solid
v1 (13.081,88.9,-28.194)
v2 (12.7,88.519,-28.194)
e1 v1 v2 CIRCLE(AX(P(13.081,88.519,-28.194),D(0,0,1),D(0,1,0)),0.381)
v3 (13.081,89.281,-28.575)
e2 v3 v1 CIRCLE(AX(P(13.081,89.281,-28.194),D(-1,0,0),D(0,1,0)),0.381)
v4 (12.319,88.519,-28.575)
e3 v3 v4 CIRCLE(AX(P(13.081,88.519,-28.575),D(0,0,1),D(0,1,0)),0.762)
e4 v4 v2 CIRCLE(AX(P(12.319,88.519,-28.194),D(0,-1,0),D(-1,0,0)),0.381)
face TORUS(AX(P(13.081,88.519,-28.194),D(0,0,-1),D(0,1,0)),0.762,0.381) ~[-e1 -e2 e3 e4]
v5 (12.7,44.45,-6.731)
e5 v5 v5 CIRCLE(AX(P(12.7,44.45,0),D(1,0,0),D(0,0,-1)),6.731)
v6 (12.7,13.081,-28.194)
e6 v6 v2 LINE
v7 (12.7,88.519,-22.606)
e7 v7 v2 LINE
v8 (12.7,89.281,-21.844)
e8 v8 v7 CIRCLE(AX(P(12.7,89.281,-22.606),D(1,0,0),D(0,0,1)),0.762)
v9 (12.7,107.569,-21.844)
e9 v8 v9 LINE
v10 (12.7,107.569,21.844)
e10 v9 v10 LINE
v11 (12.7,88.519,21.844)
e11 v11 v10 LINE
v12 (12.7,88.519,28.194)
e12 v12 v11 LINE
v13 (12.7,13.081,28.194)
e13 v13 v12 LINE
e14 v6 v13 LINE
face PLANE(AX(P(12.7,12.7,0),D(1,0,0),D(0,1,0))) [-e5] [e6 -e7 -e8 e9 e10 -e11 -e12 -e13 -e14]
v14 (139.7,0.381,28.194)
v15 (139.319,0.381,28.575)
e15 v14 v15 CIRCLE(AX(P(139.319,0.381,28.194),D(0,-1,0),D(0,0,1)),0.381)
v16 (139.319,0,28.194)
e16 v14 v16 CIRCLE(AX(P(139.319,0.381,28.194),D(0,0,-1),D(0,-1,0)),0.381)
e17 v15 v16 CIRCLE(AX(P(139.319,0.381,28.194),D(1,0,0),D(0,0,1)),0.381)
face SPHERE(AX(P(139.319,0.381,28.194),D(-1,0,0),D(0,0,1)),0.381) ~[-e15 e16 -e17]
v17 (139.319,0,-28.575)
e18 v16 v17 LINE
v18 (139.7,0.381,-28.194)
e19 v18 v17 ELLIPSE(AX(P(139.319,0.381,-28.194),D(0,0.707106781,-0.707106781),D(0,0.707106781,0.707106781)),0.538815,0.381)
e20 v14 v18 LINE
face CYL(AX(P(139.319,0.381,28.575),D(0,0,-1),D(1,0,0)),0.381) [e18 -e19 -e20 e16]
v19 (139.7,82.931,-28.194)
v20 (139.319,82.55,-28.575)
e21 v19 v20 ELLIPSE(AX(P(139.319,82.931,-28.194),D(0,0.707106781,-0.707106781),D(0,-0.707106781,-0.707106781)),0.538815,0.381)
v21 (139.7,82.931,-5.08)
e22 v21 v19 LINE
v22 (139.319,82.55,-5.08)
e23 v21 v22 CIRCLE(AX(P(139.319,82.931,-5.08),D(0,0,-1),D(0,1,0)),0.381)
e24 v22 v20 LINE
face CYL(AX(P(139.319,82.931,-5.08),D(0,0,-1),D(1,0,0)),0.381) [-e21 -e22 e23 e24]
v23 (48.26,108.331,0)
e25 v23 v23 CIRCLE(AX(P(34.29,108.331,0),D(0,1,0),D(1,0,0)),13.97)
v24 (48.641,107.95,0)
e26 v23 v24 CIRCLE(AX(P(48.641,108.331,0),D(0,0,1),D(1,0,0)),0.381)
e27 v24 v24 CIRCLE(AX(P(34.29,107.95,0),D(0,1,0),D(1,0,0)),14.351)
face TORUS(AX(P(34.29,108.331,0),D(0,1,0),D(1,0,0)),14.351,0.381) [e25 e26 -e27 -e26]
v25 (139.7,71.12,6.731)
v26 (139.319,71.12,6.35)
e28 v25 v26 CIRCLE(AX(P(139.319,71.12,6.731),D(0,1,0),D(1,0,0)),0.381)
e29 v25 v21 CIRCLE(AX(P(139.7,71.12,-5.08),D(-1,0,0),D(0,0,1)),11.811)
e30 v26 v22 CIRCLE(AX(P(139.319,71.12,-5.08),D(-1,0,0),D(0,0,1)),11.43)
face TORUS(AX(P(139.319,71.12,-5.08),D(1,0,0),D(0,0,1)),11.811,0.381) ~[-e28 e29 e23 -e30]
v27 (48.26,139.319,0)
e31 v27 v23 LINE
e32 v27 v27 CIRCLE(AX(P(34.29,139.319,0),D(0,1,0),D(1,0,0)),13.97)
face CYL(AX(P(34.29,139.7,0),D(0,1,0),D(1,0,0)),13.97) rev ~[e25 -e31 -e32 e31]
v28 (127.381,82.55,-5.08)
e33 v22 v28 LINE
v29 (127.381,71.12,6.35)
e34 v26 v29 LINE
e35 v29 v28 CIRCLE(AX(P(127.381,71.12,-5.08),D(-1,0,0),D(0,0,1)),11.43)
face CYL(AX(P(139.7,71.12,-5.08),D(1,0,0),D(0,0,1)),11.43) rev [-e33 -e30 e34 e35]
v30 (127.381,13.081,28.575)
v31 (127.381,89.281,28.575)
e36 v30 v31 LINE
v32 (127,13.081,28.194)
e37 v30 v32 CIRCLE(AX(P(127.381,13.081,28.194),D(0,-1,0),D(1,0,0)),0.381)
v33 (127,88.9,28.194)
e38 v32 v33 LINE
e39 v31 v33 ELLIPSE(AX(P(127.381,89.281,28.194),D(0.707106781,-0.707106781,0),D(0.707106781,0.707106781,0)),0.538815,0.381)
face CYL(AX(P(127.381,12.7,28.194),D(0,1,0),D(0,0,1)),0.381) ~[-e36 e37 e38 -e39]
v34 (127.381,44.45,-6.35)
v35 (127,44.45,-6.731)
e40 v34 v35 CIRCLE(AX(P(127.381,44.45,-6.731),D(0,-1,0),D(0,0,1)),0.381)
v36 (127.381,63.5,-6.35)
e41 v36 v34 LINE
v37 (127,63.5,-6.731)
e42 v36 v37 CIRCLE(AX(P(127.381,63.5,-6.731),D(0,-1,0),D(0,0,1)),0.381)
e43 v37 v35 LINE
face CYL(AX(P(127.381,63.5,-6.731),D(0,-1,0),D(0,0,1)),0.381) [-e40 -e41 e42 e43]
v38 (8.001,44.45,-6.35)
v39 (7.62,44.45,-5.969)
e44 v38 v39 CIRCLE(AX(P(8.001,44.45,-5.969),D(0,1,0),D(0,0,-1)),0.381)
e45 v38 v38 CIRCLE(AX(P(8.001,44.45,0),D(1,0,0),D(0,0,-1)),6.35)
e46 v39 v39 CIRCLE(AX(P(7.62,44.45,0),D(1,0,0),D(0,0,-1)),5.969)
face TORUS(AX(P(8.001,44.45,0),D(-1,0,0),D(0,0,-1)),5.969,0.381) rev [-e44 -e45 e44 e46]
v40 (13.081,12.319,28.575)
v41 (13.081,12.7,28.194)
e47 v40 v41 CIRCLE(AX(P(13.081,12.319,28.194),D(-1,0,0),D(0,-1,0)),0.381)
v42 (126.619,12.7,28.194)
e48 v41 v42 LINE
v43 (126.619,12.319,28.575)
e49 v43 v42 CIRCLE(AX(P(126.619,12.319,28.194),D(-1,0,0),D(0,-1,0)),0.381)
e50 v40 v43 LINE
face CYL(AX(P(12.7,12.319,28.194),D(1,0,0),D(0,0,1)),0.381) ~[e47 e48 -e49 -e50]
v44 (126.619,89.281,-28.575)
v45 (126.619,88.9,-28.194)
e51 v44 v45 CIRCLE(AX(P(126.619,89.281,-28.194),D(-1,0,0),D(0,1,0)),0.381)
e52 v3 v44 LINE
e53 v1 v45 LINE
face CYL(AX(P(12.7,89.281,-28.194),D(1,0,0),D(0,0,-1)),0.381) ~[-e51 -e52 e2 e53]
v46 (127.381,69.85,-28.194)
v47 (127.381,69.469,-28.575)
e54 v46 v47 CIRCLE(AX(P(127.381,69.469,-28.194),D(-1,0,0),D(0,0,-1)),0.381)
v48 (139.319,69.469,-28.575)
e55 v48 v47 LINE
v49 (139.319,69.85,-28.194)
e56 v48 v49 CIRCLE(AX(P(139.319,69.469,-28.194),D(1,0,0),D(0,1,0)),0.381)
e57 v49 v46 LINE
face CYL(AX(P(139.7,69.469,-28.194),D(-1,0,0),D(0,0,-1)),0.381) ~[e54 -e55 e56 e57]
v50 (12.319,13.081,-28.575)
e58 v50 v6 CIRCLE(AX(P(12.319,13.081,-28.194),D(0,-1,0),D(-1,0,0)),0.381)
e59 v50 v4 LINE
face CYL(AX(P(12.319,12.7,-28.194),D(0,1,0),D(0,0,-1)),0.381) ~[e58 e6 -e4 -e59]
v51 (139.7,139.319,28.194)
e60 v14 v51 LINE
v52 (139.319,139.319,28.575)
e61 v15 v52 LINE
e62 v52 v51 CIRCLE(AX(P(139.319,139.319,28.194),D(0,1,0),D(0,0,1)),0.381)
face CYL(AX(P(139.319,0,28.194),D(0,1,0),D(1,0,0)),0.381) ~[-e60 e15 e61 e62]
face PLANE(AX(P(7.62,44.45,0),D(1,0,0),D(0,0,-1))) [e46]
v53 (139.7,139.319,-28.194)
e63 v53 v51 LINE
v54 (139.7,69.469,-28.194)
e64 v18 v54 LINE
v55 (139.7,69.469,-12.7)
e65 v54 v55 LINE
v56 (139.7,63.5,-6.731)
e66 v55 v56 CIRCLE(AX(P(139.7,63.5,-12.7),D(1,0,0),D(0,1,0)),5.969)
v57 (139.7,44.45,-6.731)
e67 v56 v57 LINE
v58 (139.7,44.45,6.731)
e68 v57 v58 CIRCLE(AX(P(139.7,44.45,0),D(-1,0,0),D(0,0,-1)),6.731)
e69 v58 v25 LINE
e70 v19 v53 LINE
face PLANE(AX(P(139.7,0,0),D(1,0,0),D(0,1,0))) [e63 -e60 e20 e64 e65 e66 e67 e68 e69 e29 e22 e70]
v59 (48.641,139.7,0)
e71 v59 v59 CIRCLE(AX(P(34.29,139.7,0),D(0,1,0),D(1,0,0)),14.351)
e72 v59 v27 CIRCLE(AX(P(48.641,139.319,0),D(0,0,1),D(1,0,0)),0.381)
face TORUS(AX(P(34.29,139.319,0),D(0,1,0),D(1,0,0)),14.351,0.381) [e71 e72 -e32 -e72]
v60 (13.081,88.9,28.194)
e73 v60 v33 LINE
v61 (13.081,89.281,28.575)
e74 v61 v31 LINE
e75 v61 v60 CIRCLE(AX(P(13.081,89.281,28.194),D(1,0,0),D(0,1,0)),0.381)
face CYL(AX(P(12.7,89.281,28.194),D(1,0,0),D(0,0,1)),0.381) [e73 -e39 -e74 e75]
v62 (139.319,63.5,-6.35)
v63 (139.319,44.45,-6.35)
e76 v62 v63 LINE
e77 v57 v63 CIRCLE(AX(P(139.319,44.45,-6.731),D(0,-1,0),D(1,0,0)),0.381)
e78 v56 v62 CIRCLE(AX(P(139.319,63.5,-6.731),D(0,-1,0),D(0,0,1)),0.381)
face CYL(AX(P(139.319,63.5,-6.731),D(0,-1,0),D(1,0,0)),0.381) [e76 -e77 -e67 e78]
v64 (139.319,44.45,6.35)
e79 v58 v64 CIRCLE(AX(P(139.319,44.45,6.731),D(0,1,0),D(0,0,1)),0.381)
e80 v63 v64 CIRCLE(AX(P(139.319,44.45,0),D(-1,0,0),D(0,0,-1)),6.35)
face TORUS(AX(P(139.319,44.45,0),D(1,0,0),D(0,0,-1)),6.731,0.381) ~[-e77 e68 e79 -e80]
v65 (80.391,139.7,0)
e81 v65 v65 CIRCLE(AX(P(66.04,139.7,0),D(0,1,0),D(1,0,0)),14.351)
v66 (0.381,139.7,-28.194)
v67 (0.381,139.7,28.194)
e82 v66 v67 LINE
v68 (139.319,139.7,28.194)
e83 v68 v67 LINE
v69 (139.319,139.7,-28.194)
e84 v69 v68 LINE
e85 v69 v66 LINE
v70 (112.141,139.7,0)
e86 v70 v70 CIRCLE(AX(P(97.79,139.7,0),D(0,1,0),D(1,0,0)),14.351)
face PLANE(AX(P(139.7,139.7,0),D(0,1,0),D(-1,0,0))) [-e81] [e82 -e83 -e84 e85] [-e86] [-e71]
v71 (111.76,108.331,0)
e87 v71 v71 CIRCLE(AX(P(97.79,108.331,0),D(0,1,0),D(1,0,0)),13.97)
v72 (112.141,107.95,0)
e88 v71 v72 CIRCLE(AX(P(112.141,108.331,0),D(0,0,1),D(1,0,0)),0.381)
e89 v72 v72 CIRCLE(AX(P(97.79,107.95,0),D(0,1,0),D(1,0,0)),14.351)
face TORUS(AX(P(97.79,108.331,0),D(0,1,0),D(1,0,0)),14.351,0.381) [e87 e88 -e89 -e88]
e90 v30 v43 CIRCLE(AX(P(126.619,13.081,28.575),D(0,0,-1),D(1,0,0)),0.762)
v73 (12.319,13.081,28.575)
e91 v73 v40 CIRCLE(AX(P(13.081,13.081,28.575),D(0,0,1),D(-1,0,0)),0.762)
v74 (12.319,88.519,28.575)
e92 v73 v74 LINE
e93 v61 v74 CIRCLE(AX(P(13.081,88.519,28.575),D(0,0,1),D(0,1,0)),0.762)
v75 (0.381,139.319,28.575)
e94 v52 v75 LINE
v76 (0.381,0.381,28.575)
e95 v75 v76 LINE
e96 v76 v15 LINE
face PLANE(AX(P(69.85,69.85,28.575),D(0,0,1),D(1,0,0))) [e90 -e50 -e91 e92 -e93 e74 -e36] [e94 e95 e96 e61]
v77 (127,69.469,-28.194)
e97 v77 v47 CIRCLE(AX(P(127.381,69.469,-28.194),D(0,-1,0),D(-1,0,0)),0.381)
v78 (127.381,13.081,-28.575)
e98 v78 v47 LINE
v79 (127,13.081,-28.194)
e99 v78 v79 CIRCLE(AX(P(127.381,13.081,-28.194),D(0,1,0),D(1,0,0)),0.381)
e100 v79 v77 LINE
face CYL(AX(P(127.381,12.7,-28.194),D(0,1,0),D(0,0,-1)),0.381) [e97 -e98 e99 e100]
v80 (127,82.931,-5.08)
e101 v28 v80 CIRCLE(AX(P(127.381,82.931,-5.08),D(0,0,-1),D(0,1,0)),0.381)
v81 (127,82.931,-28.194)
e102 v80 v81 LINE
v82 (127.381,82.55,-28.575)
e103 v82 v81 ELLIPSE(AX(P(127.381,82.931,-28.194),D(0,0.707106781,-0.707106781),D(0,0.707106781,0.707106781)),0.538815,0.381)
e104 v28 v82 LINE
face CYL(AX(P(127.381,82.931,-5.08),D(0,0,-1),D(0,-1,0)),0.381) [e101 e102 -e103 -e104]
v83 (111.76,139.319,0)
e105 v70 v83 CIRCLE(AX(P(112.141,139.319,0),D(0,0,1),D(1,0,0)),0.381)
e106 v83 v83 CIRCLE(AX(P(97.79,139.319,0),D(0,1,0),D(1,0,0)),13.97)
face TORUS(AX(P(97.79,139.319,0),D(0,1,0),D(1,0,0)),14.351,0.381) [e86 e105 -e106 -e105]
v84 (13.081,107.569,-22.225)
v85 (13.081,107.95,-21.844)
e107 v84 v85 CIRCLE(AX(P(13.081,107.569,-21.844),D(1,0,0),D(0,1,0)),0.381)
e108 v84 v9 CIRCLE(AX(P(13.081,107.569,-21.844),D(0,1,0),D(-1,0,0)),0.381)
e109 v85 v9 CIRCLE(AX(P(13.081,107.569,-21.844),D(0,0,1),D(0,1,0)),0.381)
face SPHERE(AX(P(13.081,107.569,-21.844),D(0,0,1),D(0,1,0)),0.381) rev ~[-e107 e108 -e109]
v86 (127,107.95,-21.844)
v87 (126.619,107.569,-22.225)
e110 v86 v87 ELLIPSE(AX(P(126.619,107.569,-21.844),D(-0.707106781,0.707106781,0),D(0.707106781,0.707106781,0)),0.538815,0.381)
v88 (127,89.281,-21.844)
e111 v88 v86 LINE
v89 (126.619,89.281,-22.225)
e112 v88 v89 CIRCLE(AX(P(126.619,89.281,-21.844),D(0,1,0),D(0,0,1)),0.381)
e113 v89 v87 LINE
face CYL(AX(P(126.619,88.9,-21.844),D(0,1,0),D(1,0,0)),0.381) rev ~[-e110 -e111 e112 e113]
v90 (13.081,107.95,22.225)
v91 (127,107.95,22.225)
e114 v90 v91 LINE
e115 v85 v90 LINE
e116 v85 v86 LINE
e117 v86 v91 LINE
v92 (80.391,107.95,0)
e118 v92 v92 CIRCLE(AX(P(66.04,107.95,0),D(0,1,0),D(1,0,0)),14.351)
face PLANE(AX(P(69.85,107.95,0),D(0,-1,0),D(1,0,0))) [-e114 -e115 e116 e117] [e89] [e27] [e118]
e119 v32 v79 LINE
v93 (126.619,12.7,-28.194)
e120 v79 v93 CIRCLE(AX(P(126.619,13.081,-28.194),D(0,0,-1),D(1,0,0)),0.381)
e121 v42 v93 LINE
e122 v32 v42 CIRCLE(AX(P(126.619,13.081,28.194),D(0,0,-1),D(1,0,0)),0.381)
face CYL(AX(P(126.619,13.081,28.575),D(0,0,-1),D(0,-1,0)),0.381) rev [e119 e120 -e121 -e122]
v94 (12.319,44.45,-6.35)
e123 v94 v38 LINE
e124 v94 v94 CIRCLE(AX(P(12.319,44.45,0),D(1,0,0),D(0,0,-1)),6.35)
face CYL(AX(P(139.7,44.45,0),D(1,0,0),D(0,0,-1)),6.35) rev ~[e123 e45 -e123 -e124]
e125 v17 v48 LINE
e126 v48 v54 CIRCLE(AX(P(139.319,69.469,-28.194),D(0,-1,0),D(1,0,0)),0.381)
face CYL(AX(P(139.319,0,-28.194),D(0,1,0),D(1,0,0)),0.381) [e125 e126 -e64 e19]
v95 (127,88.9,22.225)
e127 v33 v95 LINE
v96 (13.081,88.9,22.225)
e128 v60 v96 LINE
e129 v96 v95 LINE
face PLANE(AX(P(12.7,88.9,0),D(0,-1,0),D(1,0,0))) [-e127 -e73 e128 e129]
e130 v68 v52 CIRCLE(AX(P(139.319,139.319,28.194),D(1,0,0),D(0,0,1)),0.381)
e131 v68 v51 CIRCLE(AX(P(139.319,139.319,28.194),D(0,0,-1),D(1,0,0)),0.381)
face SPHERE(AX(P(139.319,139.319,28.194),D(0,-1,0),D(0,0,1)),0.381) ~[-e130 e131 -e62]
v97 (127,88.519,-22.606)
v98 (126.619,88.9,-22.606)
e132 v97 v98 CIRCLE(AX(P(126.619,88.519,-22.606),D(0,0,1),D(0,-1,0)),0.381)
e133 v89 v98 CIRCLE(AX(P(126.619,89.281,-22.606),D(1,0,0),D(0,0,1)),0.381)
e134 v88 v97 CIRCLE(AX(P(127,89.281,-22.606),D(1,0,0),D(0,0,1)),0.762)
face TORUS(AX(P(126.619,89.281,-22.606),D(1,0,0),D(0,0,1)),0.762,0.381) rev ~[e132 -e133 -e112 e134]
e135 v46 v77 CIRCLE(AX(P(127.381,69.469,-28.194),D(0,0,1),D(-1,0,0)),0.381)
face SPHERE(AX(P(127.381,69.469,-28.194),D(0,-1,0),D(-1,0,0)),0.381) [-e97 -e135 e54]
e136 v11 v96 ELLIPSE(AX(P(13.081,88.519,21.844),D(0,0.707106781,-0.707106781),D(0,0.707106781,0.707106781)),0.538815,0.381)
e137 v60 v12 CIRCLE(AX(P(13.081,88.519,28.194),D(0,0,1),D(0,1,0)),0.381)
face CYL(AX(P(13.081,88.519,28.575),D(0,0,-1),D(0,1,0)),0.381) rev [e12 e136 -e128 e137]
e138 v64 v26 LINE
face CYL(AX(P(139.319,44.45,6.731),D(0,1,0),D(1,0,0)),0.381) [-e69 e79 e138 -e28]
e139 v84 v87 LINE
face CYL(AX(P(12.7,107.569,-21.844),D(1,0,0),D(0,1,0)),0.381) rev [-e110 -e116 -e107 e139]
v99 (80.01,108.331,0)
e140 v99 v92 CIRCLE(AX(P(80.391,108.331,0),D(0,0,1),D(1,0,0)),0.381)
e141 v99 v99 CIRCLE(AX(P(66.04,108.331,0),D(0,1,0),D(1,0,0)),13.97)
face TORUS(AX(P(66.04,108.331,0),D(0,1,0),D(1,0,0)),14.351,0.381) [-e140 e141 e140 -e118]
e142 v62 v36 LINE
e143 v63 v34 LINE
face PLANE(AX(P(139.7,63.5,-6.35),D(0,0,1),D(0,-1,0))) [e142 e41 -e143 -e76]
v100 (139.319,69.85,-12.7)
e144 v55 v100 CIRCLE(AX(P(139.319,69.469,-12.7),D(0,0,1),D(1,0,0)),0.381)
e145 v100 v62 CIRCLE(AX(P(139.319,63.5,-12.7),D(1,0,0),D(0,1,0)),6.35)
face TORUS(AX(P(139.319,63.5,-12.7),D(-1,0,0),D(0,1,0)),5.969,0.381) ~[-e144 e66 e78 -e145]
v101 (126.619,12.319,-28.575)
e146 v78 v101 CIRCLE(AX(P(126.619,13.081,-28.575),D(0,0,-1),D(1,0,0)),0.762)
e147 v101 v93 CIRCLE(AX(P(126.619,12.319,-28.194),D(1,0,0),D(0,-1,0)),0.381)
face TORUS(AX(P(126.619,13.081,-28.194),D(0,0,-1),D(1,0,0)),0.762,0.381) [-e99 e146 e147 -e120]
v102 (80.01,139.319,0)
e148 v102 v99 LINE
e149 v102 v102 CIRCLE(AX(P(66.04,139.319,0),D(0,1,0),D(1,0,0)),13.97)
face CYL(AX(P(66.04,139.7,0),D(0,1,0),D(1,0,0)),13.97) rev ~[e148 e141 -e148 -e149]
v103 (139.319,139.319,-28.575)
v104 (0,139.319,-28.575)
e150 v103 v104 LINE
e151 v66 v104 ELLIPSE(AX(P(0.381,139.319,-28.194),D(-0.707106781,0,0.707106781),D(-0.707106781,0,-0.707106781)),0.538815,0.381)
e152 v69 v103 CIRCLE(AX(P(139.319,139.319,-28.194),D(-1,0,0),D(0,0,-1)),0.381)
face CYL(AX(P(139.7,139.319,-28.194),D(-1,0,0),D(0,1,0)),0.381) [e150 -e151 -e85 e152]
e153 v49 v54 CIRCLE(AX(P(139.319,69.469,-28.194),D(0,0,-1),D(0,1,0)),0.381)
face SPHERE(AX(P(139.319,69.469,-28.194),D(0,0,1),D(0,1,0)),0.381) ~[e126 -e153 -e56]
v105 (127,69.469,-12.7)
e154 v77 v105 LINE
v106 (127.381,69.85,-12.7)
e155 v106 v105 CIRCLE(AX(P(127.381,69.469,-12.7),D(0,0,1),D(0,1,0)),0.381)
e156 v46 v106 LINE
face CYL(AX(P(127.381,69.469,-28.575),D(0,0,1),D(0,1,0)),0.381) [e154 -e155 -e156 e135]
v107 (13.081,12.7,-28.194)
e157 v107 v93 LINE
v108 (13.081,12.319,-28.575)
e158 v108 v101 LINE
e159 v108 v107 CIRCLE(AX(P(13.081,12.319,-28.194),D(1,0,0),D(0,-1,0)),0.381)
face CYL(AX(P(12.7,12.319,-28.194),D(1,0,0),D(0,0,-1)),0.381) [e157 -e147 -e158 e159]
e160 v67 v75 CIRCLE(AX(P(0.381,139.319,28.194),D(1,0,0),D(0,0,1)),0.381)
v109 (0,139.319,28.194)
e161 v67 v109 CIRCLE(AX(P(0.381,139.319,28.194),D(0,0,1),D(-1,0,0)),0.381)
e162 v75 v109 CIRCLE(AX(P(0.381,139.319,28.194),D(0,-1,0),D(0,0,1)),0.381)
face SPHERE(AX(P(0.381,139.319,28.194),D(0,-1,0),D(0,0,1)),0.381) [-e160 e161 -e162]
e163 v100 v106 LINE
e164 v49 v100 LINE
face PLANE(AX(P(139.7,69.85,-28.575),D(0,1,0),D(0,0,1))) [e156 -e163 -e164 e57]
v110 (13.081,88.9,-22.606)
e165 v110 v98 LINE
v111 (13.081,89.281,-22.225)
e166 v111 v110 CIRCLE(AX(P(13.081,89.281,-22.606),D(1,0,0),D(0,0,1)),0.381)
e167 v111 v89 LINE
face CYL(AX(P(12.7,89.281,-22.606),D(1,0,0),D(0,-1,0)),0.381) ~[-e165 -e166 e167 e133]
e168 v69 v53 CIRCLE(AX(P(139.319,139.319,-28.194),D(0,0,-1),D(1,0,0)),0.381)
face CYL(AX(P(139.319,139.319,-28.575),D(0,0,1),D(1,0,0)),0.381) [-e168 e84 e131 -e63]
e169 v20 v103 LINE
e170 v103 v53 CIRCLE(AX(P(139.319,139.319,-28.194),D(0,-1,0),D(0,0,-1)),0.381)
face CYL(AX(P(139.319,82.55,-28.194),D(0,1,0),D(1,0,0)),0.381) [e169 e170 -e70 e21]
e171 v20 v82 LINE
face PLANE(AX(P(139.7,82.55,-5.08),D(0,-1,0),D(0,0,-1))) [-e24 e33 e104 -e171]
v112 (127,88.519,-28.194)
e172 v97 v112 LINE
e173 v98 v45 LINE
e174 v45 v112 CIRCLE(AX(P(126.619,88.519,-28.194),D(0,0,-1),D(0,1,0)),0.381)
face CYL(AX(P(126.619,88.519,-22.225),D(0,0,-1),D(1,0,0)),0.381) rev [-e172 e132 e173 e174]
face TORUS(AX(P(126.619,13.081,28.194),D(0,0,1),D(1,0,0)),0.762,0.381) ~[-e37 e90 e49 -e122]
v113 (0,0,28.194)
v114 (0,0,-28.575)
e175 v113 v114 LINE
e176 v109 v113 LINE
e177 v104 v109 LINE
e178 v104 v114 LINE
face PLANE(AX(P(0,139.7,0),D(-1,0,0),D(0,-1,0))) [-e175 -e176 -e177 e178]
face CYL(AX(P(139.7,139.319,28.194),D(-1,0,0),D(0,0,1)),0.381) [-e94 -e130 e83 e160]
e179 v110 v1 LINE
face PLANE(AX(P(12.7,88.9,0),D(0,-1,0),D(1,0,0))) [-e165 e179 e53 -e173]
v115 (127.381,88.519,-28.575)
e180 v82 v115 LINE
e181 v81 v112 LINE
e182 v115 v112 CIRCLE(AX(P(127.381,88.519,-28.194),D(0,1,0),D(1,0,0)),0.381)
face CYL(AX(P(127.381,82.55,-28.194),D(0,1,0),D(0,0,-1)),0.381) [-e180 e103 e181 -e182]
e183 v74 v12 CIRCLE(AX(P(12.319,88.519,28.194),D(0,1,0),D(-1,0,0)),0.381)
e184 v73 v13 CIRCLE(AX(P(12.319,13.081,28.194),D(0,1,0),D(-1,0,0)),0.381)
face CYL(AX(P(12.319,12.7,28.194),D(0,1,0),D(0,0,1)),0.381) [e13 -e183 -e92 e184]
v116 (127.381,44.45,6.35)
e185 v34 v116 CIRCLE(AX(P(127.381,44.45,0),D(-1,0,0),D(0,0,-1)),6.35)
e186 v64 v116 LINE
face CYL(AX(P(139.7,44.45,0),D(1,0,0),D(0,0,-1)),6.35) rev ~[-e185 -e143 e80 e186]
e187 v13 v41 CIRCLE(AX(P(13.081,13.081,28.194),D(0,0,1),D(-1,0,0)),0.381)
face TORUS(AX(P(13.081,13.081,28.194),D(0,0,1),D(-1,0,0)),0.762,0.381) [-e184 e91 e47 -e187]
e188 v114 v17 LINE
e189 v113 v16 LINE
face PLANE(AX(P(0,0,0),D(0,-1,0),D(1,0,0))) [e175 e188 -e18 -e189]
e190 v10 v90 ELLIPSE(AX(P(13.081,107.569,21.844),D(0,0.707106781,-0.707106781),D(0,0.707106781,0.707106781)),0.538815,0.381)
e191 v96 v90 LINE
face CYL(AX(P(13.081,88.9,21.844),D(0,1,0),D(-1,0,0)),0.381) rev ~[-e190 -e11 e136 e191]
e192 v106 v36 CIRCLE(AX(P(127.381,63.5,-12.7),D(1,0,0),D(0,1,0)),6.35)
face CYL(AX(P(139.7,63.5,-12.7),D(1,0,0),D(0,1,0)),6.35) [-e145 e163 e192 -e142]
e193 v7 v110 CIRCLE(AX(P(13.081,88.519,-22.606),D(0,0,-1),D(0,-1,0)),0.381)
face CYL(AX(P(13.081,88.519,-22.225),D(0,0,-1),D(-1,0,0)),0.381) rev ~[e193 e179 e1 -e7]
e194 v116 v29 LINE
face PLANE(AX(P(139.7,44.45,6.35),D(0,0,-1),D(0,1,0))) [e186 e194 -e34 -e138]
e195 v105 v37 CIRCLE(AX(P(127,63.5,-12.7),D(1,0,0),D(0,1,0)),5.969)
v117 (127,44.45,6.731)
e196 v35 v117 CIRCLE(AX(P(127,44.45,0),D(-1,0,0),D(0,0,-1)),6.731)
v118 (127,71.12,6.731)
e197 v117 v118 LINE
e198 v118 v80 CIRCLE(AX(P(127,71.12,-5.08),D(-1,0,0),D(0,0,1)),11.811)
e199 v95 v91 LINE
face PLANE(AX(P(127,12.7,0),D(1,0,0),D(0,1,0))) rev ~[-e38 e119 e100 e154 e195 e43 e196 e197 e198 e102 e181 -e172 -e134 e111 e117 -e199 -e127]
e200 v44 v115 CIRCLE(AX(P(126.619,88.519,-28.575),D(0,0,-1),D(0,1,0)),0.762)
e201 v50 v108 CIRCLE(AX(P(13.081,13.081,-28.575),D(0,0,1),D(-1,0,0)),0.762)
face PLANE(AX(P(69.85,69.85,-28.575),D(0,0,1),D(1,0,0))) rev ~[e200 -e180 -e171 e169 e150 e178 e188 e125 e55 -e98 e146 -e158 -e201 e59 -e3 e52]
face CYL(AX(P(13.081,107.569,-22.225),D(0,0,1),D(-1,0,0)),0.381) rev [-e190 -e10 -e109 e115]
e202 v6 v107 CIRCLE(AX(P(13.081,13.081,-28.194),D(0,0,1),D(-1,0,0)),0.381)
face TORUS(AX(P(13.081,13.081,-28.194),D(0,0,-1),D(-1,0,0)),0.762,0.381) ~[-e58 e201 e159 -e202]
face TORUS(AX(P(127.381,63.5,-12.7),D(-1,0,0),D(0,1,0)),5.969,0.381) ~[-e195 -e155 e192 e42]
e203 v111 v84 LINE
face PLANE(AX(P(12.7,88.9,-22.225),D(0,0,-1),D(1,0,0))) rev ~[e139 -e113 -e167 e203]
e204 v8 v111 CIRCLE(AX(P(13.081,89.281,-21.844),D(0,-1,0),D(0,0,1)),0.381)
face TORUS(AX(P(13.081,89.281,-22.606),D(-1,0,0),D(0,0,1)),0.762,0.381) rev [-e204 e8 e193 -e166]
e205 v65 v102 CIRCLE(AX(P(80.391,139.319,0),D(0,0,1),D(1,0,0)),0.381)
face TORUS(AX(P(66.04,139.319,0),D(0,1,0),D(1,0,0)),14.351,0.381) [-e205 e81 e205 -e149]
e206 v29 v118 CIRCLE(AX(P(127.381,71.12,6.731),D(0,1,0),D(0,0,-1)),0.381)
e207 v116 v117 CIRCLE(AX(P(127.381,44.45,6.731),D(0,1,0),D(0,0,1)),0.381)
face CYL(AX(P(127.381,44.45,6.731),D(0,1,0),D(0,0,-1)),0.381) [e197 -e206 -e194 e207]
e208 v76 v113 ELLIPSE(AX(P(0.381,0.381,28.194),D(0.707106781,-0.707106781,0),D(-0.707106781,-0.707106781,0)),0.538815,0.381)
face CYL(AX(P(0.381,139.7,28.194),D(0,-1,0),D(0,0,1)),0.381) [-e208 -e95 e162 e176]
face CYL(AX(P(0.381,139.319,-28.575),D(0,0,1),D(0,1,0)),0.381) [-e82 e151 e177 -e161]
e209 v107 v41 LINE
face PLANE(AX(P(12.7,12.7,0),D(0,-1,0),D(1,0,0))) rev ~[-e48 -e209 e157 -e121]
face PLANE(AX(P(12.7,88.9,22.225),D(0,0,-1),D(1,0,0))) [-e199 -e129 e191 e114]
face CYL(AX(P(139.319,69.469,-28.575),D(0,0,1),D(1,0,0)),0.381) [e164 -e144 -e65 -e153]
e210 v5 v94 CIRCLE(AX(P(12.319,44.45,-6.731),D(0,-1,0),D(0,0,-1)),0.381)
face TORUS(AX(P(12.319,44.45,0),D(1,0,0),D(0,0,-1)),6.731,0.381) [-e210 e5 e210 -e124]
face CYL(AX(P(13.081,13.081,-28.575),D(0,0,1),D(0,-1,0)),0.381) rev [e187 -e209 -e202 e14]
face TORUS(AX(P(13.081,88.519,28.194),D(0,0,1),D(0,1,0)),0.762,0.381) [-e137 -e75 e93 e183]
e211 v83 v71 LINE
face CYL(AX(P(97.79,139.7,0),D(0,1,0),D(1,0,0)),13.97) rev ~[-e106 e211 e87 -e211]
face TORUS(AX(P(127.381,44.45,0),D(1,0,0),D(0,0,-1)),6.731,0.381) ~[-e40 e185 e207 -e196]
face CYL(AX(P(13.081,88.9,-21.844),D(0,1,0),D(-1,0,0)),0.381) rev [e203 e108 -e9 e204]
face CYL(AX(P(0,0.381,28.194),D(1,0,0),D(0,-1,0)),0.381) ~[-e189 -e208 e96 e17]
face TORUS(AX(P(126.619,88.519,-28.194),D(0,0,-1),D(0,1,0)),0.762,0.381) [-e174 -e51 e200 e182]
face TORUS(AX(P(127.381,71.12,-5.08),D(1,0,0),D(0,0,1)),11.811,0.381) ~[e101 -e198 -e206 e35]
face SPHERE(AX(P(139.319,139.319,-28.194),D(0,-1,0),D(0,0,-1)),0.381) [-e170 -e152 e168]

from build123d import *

# Parameters (mm, degrees)
SKETCH1_W           = 114.3
SKETCH1_H           = 76.2
BOSS_EXTRUDE1_DEPTH = 28.575
SKETCH2_R           = 13.97
CUT_EXTRUDE1_DEPTH  = 88.9
SKETCH3_R           = 6.35
CUT_EXTRUDE2_DEPTH  = 132.08
SKETCH4_W           = 114.3
SKETCH4_H           = 44.45
CUT_EXTRUDE3_DEPTH  = 19.05
CUT_EXTRUDE4_DEPTH  = 25.4
FILLET1_R           = 0.381


with BuildPart() as part:
    # Sketch1 → Boss-Extrude1 (new body, symmetric)
    with BuildSketch(Plane.XY):
        Polygon((88.9, 0), (139.7, 0), (139.7, 139.7), (0, 139.7), (0, 0), (12.7, 0), align=None)
        with Locations((69.85, 50.8)):
            Rectangle(SKETCH1_W, SKETCH1_H, mode=Mode.SUBTRACT)
    extrude(amount=BOSS_EXTRUDE1_DEPTH, both=True)

    # Sketch2 → Cut-Extrude1 (cut)
    with BuildSketch(Plane(origin=(0, 139.7, 0), x_dir=(1, 0, 0), z_dir=(0, 1, 0))):
        with Locations((66.04, 0)):
            Circle(SKETCH2_R)
        with Locations((34.29, 0)):
            Circle(SKETCH2_R)
        with Locations((97.79, 0)):
            Circle(SKETCH2_R)
    extrude(amount=-CUT_EXTRUDE1_DEPTH, mode=Mode.SUBTRACT)

    # Sketch3 → Cut-Extrude2 (cut)
    with BuildSketch(Plane(origin=(139.7, 0, 0), x_dir=(0, 0, -1), z_dir=(1, 0, 0))):
        with Locations((0, 44.45)):
            Circle(SKETCH3_R)
    extrude(amount=-CUT_EXTRUDE2_DEPTH, mode=Mode.SUBTRACT)

    # Sketch4 → Cut-Extrude3 (cut)
    with BuildSketch(Plane.XZ.offset(-88.9)):
        with Locations((69.85, 0)):
            Rectangle(SKETCH4_W, SKETCH4_H)
    extrude(amount=-CUT_EXTRUDE3_DEPTH, mode=Mode.SUBTRACT)

    # Sketch5 → Cut-Extrude4 (cut)
    with BuildSketch(Plane(origin=(139.7, 0, 0), x_dir=(0, 0, -1), z_dir=(1, 0, 0))):
        with BuildLine():
            Line((-6.35, 44.45), (-6.35, 71.12))
            ThreePointArc((-6.35, 71.12), (-3.002230509, 79.202230509), (5.08, 82.55))
            Line((5.08, 82.55), (28.575, 82.55))
            Line((28.575, 82.55), (28.575, 69.85))
            Line((28.575, 69.85), (12.7, 69.85))
            ThreePointArc((12.7, 69.85), (8.209871939, 67.990128061), (6.35, 63.5))
            Line((6.35, 63.5), (6.35, 44.45))
            ThreePointArc((6.35, 44.45), (0, 38.1), (-6.35, 44.45))
        make_face()
    extrude(amount=-CUT_EXTRUDE4_DEPTH, mode=Mode.SUBTRACT)

    # Fillet1
    fillet1_edges = [part.edges().sort_by_distance(p)[0] for p in [
        (127, 85.725, -28.575),
        (127, 88.9, -25.4),
        (69.85, 88.9, -28.575),
        (127, 41.275, -28.575),
        (127, 82.55, -16.8275),
        (127, 79.202230509, 3.002230509),
        (127, 57.785, 6.35),
        (139.7, 53.975, -6.35),
        (139.7, 67.990128061, -8.209871939),
        (139.7, 69.85, -20.6375),
        (139.7, 82.55, -16.8275),
        (139.7, 79.202230509, 3.002230509),
        (139.7, 57.785, 6.35),
        (133.35, 69.85, -28.575),
        (127, 53.975, -6.35),
        (69.85, 88.9, -22.225),
        (12.7, 107.95, 0),
        (69.85, 107.95, -22.225),
        (12.7, 98.425, -22.225),
        (127, 98.425, -22.225),
        (12.7, 98.425, 22.225),
        (83.82, 107.95, 0),
        (20.32, 107.95, 0),
        (52.07, 107.95, 0),
        (139.7, 38.1, 0),
        (7.62, 44.45, 6.35),
        (12.7, 44.45, 6.35),
        (127, 38.1, 0),
        (83.82, 139.7, 0),
        (20.32, 139.7, 0),
        (52.07, 139.7, 0),
        (12.7, 50.8, -28.575),
        (69.85, 12.7, -28.575),
        (127, 50.8, 28.575),
        (69.85, 88.9, 28.575),
        (12.7, 50.8, 28.575),
        (69.85, 12.7, 28.575),
        (127, 12.7, 0),
        (12.7, 12.7, 0),
        (12.7, 88.9, -25.4),
        (12.7, 88.9, 25.4),
        (139.7, 111.125, -28.575),
        (139.7, 34.925, -28.575),
        (69.85, 139.7, -28.575),
        (0, 69.85, 28.575),
        (69.85, 0, 28.575),
        (139.7, 69.85, 28.575),
        (69.85, 139.7, 28.575),
        (0, 139.7, 0),
        (139.7, 139.7, 0),
        (139.7, 0, 0),
        (127, 67.990128061, -8.209871939),
        (127, 69.85, -20.6375),
    ]]
    fillet(fillet1_edges, radius=FILLET1_R)


solid = part.part
